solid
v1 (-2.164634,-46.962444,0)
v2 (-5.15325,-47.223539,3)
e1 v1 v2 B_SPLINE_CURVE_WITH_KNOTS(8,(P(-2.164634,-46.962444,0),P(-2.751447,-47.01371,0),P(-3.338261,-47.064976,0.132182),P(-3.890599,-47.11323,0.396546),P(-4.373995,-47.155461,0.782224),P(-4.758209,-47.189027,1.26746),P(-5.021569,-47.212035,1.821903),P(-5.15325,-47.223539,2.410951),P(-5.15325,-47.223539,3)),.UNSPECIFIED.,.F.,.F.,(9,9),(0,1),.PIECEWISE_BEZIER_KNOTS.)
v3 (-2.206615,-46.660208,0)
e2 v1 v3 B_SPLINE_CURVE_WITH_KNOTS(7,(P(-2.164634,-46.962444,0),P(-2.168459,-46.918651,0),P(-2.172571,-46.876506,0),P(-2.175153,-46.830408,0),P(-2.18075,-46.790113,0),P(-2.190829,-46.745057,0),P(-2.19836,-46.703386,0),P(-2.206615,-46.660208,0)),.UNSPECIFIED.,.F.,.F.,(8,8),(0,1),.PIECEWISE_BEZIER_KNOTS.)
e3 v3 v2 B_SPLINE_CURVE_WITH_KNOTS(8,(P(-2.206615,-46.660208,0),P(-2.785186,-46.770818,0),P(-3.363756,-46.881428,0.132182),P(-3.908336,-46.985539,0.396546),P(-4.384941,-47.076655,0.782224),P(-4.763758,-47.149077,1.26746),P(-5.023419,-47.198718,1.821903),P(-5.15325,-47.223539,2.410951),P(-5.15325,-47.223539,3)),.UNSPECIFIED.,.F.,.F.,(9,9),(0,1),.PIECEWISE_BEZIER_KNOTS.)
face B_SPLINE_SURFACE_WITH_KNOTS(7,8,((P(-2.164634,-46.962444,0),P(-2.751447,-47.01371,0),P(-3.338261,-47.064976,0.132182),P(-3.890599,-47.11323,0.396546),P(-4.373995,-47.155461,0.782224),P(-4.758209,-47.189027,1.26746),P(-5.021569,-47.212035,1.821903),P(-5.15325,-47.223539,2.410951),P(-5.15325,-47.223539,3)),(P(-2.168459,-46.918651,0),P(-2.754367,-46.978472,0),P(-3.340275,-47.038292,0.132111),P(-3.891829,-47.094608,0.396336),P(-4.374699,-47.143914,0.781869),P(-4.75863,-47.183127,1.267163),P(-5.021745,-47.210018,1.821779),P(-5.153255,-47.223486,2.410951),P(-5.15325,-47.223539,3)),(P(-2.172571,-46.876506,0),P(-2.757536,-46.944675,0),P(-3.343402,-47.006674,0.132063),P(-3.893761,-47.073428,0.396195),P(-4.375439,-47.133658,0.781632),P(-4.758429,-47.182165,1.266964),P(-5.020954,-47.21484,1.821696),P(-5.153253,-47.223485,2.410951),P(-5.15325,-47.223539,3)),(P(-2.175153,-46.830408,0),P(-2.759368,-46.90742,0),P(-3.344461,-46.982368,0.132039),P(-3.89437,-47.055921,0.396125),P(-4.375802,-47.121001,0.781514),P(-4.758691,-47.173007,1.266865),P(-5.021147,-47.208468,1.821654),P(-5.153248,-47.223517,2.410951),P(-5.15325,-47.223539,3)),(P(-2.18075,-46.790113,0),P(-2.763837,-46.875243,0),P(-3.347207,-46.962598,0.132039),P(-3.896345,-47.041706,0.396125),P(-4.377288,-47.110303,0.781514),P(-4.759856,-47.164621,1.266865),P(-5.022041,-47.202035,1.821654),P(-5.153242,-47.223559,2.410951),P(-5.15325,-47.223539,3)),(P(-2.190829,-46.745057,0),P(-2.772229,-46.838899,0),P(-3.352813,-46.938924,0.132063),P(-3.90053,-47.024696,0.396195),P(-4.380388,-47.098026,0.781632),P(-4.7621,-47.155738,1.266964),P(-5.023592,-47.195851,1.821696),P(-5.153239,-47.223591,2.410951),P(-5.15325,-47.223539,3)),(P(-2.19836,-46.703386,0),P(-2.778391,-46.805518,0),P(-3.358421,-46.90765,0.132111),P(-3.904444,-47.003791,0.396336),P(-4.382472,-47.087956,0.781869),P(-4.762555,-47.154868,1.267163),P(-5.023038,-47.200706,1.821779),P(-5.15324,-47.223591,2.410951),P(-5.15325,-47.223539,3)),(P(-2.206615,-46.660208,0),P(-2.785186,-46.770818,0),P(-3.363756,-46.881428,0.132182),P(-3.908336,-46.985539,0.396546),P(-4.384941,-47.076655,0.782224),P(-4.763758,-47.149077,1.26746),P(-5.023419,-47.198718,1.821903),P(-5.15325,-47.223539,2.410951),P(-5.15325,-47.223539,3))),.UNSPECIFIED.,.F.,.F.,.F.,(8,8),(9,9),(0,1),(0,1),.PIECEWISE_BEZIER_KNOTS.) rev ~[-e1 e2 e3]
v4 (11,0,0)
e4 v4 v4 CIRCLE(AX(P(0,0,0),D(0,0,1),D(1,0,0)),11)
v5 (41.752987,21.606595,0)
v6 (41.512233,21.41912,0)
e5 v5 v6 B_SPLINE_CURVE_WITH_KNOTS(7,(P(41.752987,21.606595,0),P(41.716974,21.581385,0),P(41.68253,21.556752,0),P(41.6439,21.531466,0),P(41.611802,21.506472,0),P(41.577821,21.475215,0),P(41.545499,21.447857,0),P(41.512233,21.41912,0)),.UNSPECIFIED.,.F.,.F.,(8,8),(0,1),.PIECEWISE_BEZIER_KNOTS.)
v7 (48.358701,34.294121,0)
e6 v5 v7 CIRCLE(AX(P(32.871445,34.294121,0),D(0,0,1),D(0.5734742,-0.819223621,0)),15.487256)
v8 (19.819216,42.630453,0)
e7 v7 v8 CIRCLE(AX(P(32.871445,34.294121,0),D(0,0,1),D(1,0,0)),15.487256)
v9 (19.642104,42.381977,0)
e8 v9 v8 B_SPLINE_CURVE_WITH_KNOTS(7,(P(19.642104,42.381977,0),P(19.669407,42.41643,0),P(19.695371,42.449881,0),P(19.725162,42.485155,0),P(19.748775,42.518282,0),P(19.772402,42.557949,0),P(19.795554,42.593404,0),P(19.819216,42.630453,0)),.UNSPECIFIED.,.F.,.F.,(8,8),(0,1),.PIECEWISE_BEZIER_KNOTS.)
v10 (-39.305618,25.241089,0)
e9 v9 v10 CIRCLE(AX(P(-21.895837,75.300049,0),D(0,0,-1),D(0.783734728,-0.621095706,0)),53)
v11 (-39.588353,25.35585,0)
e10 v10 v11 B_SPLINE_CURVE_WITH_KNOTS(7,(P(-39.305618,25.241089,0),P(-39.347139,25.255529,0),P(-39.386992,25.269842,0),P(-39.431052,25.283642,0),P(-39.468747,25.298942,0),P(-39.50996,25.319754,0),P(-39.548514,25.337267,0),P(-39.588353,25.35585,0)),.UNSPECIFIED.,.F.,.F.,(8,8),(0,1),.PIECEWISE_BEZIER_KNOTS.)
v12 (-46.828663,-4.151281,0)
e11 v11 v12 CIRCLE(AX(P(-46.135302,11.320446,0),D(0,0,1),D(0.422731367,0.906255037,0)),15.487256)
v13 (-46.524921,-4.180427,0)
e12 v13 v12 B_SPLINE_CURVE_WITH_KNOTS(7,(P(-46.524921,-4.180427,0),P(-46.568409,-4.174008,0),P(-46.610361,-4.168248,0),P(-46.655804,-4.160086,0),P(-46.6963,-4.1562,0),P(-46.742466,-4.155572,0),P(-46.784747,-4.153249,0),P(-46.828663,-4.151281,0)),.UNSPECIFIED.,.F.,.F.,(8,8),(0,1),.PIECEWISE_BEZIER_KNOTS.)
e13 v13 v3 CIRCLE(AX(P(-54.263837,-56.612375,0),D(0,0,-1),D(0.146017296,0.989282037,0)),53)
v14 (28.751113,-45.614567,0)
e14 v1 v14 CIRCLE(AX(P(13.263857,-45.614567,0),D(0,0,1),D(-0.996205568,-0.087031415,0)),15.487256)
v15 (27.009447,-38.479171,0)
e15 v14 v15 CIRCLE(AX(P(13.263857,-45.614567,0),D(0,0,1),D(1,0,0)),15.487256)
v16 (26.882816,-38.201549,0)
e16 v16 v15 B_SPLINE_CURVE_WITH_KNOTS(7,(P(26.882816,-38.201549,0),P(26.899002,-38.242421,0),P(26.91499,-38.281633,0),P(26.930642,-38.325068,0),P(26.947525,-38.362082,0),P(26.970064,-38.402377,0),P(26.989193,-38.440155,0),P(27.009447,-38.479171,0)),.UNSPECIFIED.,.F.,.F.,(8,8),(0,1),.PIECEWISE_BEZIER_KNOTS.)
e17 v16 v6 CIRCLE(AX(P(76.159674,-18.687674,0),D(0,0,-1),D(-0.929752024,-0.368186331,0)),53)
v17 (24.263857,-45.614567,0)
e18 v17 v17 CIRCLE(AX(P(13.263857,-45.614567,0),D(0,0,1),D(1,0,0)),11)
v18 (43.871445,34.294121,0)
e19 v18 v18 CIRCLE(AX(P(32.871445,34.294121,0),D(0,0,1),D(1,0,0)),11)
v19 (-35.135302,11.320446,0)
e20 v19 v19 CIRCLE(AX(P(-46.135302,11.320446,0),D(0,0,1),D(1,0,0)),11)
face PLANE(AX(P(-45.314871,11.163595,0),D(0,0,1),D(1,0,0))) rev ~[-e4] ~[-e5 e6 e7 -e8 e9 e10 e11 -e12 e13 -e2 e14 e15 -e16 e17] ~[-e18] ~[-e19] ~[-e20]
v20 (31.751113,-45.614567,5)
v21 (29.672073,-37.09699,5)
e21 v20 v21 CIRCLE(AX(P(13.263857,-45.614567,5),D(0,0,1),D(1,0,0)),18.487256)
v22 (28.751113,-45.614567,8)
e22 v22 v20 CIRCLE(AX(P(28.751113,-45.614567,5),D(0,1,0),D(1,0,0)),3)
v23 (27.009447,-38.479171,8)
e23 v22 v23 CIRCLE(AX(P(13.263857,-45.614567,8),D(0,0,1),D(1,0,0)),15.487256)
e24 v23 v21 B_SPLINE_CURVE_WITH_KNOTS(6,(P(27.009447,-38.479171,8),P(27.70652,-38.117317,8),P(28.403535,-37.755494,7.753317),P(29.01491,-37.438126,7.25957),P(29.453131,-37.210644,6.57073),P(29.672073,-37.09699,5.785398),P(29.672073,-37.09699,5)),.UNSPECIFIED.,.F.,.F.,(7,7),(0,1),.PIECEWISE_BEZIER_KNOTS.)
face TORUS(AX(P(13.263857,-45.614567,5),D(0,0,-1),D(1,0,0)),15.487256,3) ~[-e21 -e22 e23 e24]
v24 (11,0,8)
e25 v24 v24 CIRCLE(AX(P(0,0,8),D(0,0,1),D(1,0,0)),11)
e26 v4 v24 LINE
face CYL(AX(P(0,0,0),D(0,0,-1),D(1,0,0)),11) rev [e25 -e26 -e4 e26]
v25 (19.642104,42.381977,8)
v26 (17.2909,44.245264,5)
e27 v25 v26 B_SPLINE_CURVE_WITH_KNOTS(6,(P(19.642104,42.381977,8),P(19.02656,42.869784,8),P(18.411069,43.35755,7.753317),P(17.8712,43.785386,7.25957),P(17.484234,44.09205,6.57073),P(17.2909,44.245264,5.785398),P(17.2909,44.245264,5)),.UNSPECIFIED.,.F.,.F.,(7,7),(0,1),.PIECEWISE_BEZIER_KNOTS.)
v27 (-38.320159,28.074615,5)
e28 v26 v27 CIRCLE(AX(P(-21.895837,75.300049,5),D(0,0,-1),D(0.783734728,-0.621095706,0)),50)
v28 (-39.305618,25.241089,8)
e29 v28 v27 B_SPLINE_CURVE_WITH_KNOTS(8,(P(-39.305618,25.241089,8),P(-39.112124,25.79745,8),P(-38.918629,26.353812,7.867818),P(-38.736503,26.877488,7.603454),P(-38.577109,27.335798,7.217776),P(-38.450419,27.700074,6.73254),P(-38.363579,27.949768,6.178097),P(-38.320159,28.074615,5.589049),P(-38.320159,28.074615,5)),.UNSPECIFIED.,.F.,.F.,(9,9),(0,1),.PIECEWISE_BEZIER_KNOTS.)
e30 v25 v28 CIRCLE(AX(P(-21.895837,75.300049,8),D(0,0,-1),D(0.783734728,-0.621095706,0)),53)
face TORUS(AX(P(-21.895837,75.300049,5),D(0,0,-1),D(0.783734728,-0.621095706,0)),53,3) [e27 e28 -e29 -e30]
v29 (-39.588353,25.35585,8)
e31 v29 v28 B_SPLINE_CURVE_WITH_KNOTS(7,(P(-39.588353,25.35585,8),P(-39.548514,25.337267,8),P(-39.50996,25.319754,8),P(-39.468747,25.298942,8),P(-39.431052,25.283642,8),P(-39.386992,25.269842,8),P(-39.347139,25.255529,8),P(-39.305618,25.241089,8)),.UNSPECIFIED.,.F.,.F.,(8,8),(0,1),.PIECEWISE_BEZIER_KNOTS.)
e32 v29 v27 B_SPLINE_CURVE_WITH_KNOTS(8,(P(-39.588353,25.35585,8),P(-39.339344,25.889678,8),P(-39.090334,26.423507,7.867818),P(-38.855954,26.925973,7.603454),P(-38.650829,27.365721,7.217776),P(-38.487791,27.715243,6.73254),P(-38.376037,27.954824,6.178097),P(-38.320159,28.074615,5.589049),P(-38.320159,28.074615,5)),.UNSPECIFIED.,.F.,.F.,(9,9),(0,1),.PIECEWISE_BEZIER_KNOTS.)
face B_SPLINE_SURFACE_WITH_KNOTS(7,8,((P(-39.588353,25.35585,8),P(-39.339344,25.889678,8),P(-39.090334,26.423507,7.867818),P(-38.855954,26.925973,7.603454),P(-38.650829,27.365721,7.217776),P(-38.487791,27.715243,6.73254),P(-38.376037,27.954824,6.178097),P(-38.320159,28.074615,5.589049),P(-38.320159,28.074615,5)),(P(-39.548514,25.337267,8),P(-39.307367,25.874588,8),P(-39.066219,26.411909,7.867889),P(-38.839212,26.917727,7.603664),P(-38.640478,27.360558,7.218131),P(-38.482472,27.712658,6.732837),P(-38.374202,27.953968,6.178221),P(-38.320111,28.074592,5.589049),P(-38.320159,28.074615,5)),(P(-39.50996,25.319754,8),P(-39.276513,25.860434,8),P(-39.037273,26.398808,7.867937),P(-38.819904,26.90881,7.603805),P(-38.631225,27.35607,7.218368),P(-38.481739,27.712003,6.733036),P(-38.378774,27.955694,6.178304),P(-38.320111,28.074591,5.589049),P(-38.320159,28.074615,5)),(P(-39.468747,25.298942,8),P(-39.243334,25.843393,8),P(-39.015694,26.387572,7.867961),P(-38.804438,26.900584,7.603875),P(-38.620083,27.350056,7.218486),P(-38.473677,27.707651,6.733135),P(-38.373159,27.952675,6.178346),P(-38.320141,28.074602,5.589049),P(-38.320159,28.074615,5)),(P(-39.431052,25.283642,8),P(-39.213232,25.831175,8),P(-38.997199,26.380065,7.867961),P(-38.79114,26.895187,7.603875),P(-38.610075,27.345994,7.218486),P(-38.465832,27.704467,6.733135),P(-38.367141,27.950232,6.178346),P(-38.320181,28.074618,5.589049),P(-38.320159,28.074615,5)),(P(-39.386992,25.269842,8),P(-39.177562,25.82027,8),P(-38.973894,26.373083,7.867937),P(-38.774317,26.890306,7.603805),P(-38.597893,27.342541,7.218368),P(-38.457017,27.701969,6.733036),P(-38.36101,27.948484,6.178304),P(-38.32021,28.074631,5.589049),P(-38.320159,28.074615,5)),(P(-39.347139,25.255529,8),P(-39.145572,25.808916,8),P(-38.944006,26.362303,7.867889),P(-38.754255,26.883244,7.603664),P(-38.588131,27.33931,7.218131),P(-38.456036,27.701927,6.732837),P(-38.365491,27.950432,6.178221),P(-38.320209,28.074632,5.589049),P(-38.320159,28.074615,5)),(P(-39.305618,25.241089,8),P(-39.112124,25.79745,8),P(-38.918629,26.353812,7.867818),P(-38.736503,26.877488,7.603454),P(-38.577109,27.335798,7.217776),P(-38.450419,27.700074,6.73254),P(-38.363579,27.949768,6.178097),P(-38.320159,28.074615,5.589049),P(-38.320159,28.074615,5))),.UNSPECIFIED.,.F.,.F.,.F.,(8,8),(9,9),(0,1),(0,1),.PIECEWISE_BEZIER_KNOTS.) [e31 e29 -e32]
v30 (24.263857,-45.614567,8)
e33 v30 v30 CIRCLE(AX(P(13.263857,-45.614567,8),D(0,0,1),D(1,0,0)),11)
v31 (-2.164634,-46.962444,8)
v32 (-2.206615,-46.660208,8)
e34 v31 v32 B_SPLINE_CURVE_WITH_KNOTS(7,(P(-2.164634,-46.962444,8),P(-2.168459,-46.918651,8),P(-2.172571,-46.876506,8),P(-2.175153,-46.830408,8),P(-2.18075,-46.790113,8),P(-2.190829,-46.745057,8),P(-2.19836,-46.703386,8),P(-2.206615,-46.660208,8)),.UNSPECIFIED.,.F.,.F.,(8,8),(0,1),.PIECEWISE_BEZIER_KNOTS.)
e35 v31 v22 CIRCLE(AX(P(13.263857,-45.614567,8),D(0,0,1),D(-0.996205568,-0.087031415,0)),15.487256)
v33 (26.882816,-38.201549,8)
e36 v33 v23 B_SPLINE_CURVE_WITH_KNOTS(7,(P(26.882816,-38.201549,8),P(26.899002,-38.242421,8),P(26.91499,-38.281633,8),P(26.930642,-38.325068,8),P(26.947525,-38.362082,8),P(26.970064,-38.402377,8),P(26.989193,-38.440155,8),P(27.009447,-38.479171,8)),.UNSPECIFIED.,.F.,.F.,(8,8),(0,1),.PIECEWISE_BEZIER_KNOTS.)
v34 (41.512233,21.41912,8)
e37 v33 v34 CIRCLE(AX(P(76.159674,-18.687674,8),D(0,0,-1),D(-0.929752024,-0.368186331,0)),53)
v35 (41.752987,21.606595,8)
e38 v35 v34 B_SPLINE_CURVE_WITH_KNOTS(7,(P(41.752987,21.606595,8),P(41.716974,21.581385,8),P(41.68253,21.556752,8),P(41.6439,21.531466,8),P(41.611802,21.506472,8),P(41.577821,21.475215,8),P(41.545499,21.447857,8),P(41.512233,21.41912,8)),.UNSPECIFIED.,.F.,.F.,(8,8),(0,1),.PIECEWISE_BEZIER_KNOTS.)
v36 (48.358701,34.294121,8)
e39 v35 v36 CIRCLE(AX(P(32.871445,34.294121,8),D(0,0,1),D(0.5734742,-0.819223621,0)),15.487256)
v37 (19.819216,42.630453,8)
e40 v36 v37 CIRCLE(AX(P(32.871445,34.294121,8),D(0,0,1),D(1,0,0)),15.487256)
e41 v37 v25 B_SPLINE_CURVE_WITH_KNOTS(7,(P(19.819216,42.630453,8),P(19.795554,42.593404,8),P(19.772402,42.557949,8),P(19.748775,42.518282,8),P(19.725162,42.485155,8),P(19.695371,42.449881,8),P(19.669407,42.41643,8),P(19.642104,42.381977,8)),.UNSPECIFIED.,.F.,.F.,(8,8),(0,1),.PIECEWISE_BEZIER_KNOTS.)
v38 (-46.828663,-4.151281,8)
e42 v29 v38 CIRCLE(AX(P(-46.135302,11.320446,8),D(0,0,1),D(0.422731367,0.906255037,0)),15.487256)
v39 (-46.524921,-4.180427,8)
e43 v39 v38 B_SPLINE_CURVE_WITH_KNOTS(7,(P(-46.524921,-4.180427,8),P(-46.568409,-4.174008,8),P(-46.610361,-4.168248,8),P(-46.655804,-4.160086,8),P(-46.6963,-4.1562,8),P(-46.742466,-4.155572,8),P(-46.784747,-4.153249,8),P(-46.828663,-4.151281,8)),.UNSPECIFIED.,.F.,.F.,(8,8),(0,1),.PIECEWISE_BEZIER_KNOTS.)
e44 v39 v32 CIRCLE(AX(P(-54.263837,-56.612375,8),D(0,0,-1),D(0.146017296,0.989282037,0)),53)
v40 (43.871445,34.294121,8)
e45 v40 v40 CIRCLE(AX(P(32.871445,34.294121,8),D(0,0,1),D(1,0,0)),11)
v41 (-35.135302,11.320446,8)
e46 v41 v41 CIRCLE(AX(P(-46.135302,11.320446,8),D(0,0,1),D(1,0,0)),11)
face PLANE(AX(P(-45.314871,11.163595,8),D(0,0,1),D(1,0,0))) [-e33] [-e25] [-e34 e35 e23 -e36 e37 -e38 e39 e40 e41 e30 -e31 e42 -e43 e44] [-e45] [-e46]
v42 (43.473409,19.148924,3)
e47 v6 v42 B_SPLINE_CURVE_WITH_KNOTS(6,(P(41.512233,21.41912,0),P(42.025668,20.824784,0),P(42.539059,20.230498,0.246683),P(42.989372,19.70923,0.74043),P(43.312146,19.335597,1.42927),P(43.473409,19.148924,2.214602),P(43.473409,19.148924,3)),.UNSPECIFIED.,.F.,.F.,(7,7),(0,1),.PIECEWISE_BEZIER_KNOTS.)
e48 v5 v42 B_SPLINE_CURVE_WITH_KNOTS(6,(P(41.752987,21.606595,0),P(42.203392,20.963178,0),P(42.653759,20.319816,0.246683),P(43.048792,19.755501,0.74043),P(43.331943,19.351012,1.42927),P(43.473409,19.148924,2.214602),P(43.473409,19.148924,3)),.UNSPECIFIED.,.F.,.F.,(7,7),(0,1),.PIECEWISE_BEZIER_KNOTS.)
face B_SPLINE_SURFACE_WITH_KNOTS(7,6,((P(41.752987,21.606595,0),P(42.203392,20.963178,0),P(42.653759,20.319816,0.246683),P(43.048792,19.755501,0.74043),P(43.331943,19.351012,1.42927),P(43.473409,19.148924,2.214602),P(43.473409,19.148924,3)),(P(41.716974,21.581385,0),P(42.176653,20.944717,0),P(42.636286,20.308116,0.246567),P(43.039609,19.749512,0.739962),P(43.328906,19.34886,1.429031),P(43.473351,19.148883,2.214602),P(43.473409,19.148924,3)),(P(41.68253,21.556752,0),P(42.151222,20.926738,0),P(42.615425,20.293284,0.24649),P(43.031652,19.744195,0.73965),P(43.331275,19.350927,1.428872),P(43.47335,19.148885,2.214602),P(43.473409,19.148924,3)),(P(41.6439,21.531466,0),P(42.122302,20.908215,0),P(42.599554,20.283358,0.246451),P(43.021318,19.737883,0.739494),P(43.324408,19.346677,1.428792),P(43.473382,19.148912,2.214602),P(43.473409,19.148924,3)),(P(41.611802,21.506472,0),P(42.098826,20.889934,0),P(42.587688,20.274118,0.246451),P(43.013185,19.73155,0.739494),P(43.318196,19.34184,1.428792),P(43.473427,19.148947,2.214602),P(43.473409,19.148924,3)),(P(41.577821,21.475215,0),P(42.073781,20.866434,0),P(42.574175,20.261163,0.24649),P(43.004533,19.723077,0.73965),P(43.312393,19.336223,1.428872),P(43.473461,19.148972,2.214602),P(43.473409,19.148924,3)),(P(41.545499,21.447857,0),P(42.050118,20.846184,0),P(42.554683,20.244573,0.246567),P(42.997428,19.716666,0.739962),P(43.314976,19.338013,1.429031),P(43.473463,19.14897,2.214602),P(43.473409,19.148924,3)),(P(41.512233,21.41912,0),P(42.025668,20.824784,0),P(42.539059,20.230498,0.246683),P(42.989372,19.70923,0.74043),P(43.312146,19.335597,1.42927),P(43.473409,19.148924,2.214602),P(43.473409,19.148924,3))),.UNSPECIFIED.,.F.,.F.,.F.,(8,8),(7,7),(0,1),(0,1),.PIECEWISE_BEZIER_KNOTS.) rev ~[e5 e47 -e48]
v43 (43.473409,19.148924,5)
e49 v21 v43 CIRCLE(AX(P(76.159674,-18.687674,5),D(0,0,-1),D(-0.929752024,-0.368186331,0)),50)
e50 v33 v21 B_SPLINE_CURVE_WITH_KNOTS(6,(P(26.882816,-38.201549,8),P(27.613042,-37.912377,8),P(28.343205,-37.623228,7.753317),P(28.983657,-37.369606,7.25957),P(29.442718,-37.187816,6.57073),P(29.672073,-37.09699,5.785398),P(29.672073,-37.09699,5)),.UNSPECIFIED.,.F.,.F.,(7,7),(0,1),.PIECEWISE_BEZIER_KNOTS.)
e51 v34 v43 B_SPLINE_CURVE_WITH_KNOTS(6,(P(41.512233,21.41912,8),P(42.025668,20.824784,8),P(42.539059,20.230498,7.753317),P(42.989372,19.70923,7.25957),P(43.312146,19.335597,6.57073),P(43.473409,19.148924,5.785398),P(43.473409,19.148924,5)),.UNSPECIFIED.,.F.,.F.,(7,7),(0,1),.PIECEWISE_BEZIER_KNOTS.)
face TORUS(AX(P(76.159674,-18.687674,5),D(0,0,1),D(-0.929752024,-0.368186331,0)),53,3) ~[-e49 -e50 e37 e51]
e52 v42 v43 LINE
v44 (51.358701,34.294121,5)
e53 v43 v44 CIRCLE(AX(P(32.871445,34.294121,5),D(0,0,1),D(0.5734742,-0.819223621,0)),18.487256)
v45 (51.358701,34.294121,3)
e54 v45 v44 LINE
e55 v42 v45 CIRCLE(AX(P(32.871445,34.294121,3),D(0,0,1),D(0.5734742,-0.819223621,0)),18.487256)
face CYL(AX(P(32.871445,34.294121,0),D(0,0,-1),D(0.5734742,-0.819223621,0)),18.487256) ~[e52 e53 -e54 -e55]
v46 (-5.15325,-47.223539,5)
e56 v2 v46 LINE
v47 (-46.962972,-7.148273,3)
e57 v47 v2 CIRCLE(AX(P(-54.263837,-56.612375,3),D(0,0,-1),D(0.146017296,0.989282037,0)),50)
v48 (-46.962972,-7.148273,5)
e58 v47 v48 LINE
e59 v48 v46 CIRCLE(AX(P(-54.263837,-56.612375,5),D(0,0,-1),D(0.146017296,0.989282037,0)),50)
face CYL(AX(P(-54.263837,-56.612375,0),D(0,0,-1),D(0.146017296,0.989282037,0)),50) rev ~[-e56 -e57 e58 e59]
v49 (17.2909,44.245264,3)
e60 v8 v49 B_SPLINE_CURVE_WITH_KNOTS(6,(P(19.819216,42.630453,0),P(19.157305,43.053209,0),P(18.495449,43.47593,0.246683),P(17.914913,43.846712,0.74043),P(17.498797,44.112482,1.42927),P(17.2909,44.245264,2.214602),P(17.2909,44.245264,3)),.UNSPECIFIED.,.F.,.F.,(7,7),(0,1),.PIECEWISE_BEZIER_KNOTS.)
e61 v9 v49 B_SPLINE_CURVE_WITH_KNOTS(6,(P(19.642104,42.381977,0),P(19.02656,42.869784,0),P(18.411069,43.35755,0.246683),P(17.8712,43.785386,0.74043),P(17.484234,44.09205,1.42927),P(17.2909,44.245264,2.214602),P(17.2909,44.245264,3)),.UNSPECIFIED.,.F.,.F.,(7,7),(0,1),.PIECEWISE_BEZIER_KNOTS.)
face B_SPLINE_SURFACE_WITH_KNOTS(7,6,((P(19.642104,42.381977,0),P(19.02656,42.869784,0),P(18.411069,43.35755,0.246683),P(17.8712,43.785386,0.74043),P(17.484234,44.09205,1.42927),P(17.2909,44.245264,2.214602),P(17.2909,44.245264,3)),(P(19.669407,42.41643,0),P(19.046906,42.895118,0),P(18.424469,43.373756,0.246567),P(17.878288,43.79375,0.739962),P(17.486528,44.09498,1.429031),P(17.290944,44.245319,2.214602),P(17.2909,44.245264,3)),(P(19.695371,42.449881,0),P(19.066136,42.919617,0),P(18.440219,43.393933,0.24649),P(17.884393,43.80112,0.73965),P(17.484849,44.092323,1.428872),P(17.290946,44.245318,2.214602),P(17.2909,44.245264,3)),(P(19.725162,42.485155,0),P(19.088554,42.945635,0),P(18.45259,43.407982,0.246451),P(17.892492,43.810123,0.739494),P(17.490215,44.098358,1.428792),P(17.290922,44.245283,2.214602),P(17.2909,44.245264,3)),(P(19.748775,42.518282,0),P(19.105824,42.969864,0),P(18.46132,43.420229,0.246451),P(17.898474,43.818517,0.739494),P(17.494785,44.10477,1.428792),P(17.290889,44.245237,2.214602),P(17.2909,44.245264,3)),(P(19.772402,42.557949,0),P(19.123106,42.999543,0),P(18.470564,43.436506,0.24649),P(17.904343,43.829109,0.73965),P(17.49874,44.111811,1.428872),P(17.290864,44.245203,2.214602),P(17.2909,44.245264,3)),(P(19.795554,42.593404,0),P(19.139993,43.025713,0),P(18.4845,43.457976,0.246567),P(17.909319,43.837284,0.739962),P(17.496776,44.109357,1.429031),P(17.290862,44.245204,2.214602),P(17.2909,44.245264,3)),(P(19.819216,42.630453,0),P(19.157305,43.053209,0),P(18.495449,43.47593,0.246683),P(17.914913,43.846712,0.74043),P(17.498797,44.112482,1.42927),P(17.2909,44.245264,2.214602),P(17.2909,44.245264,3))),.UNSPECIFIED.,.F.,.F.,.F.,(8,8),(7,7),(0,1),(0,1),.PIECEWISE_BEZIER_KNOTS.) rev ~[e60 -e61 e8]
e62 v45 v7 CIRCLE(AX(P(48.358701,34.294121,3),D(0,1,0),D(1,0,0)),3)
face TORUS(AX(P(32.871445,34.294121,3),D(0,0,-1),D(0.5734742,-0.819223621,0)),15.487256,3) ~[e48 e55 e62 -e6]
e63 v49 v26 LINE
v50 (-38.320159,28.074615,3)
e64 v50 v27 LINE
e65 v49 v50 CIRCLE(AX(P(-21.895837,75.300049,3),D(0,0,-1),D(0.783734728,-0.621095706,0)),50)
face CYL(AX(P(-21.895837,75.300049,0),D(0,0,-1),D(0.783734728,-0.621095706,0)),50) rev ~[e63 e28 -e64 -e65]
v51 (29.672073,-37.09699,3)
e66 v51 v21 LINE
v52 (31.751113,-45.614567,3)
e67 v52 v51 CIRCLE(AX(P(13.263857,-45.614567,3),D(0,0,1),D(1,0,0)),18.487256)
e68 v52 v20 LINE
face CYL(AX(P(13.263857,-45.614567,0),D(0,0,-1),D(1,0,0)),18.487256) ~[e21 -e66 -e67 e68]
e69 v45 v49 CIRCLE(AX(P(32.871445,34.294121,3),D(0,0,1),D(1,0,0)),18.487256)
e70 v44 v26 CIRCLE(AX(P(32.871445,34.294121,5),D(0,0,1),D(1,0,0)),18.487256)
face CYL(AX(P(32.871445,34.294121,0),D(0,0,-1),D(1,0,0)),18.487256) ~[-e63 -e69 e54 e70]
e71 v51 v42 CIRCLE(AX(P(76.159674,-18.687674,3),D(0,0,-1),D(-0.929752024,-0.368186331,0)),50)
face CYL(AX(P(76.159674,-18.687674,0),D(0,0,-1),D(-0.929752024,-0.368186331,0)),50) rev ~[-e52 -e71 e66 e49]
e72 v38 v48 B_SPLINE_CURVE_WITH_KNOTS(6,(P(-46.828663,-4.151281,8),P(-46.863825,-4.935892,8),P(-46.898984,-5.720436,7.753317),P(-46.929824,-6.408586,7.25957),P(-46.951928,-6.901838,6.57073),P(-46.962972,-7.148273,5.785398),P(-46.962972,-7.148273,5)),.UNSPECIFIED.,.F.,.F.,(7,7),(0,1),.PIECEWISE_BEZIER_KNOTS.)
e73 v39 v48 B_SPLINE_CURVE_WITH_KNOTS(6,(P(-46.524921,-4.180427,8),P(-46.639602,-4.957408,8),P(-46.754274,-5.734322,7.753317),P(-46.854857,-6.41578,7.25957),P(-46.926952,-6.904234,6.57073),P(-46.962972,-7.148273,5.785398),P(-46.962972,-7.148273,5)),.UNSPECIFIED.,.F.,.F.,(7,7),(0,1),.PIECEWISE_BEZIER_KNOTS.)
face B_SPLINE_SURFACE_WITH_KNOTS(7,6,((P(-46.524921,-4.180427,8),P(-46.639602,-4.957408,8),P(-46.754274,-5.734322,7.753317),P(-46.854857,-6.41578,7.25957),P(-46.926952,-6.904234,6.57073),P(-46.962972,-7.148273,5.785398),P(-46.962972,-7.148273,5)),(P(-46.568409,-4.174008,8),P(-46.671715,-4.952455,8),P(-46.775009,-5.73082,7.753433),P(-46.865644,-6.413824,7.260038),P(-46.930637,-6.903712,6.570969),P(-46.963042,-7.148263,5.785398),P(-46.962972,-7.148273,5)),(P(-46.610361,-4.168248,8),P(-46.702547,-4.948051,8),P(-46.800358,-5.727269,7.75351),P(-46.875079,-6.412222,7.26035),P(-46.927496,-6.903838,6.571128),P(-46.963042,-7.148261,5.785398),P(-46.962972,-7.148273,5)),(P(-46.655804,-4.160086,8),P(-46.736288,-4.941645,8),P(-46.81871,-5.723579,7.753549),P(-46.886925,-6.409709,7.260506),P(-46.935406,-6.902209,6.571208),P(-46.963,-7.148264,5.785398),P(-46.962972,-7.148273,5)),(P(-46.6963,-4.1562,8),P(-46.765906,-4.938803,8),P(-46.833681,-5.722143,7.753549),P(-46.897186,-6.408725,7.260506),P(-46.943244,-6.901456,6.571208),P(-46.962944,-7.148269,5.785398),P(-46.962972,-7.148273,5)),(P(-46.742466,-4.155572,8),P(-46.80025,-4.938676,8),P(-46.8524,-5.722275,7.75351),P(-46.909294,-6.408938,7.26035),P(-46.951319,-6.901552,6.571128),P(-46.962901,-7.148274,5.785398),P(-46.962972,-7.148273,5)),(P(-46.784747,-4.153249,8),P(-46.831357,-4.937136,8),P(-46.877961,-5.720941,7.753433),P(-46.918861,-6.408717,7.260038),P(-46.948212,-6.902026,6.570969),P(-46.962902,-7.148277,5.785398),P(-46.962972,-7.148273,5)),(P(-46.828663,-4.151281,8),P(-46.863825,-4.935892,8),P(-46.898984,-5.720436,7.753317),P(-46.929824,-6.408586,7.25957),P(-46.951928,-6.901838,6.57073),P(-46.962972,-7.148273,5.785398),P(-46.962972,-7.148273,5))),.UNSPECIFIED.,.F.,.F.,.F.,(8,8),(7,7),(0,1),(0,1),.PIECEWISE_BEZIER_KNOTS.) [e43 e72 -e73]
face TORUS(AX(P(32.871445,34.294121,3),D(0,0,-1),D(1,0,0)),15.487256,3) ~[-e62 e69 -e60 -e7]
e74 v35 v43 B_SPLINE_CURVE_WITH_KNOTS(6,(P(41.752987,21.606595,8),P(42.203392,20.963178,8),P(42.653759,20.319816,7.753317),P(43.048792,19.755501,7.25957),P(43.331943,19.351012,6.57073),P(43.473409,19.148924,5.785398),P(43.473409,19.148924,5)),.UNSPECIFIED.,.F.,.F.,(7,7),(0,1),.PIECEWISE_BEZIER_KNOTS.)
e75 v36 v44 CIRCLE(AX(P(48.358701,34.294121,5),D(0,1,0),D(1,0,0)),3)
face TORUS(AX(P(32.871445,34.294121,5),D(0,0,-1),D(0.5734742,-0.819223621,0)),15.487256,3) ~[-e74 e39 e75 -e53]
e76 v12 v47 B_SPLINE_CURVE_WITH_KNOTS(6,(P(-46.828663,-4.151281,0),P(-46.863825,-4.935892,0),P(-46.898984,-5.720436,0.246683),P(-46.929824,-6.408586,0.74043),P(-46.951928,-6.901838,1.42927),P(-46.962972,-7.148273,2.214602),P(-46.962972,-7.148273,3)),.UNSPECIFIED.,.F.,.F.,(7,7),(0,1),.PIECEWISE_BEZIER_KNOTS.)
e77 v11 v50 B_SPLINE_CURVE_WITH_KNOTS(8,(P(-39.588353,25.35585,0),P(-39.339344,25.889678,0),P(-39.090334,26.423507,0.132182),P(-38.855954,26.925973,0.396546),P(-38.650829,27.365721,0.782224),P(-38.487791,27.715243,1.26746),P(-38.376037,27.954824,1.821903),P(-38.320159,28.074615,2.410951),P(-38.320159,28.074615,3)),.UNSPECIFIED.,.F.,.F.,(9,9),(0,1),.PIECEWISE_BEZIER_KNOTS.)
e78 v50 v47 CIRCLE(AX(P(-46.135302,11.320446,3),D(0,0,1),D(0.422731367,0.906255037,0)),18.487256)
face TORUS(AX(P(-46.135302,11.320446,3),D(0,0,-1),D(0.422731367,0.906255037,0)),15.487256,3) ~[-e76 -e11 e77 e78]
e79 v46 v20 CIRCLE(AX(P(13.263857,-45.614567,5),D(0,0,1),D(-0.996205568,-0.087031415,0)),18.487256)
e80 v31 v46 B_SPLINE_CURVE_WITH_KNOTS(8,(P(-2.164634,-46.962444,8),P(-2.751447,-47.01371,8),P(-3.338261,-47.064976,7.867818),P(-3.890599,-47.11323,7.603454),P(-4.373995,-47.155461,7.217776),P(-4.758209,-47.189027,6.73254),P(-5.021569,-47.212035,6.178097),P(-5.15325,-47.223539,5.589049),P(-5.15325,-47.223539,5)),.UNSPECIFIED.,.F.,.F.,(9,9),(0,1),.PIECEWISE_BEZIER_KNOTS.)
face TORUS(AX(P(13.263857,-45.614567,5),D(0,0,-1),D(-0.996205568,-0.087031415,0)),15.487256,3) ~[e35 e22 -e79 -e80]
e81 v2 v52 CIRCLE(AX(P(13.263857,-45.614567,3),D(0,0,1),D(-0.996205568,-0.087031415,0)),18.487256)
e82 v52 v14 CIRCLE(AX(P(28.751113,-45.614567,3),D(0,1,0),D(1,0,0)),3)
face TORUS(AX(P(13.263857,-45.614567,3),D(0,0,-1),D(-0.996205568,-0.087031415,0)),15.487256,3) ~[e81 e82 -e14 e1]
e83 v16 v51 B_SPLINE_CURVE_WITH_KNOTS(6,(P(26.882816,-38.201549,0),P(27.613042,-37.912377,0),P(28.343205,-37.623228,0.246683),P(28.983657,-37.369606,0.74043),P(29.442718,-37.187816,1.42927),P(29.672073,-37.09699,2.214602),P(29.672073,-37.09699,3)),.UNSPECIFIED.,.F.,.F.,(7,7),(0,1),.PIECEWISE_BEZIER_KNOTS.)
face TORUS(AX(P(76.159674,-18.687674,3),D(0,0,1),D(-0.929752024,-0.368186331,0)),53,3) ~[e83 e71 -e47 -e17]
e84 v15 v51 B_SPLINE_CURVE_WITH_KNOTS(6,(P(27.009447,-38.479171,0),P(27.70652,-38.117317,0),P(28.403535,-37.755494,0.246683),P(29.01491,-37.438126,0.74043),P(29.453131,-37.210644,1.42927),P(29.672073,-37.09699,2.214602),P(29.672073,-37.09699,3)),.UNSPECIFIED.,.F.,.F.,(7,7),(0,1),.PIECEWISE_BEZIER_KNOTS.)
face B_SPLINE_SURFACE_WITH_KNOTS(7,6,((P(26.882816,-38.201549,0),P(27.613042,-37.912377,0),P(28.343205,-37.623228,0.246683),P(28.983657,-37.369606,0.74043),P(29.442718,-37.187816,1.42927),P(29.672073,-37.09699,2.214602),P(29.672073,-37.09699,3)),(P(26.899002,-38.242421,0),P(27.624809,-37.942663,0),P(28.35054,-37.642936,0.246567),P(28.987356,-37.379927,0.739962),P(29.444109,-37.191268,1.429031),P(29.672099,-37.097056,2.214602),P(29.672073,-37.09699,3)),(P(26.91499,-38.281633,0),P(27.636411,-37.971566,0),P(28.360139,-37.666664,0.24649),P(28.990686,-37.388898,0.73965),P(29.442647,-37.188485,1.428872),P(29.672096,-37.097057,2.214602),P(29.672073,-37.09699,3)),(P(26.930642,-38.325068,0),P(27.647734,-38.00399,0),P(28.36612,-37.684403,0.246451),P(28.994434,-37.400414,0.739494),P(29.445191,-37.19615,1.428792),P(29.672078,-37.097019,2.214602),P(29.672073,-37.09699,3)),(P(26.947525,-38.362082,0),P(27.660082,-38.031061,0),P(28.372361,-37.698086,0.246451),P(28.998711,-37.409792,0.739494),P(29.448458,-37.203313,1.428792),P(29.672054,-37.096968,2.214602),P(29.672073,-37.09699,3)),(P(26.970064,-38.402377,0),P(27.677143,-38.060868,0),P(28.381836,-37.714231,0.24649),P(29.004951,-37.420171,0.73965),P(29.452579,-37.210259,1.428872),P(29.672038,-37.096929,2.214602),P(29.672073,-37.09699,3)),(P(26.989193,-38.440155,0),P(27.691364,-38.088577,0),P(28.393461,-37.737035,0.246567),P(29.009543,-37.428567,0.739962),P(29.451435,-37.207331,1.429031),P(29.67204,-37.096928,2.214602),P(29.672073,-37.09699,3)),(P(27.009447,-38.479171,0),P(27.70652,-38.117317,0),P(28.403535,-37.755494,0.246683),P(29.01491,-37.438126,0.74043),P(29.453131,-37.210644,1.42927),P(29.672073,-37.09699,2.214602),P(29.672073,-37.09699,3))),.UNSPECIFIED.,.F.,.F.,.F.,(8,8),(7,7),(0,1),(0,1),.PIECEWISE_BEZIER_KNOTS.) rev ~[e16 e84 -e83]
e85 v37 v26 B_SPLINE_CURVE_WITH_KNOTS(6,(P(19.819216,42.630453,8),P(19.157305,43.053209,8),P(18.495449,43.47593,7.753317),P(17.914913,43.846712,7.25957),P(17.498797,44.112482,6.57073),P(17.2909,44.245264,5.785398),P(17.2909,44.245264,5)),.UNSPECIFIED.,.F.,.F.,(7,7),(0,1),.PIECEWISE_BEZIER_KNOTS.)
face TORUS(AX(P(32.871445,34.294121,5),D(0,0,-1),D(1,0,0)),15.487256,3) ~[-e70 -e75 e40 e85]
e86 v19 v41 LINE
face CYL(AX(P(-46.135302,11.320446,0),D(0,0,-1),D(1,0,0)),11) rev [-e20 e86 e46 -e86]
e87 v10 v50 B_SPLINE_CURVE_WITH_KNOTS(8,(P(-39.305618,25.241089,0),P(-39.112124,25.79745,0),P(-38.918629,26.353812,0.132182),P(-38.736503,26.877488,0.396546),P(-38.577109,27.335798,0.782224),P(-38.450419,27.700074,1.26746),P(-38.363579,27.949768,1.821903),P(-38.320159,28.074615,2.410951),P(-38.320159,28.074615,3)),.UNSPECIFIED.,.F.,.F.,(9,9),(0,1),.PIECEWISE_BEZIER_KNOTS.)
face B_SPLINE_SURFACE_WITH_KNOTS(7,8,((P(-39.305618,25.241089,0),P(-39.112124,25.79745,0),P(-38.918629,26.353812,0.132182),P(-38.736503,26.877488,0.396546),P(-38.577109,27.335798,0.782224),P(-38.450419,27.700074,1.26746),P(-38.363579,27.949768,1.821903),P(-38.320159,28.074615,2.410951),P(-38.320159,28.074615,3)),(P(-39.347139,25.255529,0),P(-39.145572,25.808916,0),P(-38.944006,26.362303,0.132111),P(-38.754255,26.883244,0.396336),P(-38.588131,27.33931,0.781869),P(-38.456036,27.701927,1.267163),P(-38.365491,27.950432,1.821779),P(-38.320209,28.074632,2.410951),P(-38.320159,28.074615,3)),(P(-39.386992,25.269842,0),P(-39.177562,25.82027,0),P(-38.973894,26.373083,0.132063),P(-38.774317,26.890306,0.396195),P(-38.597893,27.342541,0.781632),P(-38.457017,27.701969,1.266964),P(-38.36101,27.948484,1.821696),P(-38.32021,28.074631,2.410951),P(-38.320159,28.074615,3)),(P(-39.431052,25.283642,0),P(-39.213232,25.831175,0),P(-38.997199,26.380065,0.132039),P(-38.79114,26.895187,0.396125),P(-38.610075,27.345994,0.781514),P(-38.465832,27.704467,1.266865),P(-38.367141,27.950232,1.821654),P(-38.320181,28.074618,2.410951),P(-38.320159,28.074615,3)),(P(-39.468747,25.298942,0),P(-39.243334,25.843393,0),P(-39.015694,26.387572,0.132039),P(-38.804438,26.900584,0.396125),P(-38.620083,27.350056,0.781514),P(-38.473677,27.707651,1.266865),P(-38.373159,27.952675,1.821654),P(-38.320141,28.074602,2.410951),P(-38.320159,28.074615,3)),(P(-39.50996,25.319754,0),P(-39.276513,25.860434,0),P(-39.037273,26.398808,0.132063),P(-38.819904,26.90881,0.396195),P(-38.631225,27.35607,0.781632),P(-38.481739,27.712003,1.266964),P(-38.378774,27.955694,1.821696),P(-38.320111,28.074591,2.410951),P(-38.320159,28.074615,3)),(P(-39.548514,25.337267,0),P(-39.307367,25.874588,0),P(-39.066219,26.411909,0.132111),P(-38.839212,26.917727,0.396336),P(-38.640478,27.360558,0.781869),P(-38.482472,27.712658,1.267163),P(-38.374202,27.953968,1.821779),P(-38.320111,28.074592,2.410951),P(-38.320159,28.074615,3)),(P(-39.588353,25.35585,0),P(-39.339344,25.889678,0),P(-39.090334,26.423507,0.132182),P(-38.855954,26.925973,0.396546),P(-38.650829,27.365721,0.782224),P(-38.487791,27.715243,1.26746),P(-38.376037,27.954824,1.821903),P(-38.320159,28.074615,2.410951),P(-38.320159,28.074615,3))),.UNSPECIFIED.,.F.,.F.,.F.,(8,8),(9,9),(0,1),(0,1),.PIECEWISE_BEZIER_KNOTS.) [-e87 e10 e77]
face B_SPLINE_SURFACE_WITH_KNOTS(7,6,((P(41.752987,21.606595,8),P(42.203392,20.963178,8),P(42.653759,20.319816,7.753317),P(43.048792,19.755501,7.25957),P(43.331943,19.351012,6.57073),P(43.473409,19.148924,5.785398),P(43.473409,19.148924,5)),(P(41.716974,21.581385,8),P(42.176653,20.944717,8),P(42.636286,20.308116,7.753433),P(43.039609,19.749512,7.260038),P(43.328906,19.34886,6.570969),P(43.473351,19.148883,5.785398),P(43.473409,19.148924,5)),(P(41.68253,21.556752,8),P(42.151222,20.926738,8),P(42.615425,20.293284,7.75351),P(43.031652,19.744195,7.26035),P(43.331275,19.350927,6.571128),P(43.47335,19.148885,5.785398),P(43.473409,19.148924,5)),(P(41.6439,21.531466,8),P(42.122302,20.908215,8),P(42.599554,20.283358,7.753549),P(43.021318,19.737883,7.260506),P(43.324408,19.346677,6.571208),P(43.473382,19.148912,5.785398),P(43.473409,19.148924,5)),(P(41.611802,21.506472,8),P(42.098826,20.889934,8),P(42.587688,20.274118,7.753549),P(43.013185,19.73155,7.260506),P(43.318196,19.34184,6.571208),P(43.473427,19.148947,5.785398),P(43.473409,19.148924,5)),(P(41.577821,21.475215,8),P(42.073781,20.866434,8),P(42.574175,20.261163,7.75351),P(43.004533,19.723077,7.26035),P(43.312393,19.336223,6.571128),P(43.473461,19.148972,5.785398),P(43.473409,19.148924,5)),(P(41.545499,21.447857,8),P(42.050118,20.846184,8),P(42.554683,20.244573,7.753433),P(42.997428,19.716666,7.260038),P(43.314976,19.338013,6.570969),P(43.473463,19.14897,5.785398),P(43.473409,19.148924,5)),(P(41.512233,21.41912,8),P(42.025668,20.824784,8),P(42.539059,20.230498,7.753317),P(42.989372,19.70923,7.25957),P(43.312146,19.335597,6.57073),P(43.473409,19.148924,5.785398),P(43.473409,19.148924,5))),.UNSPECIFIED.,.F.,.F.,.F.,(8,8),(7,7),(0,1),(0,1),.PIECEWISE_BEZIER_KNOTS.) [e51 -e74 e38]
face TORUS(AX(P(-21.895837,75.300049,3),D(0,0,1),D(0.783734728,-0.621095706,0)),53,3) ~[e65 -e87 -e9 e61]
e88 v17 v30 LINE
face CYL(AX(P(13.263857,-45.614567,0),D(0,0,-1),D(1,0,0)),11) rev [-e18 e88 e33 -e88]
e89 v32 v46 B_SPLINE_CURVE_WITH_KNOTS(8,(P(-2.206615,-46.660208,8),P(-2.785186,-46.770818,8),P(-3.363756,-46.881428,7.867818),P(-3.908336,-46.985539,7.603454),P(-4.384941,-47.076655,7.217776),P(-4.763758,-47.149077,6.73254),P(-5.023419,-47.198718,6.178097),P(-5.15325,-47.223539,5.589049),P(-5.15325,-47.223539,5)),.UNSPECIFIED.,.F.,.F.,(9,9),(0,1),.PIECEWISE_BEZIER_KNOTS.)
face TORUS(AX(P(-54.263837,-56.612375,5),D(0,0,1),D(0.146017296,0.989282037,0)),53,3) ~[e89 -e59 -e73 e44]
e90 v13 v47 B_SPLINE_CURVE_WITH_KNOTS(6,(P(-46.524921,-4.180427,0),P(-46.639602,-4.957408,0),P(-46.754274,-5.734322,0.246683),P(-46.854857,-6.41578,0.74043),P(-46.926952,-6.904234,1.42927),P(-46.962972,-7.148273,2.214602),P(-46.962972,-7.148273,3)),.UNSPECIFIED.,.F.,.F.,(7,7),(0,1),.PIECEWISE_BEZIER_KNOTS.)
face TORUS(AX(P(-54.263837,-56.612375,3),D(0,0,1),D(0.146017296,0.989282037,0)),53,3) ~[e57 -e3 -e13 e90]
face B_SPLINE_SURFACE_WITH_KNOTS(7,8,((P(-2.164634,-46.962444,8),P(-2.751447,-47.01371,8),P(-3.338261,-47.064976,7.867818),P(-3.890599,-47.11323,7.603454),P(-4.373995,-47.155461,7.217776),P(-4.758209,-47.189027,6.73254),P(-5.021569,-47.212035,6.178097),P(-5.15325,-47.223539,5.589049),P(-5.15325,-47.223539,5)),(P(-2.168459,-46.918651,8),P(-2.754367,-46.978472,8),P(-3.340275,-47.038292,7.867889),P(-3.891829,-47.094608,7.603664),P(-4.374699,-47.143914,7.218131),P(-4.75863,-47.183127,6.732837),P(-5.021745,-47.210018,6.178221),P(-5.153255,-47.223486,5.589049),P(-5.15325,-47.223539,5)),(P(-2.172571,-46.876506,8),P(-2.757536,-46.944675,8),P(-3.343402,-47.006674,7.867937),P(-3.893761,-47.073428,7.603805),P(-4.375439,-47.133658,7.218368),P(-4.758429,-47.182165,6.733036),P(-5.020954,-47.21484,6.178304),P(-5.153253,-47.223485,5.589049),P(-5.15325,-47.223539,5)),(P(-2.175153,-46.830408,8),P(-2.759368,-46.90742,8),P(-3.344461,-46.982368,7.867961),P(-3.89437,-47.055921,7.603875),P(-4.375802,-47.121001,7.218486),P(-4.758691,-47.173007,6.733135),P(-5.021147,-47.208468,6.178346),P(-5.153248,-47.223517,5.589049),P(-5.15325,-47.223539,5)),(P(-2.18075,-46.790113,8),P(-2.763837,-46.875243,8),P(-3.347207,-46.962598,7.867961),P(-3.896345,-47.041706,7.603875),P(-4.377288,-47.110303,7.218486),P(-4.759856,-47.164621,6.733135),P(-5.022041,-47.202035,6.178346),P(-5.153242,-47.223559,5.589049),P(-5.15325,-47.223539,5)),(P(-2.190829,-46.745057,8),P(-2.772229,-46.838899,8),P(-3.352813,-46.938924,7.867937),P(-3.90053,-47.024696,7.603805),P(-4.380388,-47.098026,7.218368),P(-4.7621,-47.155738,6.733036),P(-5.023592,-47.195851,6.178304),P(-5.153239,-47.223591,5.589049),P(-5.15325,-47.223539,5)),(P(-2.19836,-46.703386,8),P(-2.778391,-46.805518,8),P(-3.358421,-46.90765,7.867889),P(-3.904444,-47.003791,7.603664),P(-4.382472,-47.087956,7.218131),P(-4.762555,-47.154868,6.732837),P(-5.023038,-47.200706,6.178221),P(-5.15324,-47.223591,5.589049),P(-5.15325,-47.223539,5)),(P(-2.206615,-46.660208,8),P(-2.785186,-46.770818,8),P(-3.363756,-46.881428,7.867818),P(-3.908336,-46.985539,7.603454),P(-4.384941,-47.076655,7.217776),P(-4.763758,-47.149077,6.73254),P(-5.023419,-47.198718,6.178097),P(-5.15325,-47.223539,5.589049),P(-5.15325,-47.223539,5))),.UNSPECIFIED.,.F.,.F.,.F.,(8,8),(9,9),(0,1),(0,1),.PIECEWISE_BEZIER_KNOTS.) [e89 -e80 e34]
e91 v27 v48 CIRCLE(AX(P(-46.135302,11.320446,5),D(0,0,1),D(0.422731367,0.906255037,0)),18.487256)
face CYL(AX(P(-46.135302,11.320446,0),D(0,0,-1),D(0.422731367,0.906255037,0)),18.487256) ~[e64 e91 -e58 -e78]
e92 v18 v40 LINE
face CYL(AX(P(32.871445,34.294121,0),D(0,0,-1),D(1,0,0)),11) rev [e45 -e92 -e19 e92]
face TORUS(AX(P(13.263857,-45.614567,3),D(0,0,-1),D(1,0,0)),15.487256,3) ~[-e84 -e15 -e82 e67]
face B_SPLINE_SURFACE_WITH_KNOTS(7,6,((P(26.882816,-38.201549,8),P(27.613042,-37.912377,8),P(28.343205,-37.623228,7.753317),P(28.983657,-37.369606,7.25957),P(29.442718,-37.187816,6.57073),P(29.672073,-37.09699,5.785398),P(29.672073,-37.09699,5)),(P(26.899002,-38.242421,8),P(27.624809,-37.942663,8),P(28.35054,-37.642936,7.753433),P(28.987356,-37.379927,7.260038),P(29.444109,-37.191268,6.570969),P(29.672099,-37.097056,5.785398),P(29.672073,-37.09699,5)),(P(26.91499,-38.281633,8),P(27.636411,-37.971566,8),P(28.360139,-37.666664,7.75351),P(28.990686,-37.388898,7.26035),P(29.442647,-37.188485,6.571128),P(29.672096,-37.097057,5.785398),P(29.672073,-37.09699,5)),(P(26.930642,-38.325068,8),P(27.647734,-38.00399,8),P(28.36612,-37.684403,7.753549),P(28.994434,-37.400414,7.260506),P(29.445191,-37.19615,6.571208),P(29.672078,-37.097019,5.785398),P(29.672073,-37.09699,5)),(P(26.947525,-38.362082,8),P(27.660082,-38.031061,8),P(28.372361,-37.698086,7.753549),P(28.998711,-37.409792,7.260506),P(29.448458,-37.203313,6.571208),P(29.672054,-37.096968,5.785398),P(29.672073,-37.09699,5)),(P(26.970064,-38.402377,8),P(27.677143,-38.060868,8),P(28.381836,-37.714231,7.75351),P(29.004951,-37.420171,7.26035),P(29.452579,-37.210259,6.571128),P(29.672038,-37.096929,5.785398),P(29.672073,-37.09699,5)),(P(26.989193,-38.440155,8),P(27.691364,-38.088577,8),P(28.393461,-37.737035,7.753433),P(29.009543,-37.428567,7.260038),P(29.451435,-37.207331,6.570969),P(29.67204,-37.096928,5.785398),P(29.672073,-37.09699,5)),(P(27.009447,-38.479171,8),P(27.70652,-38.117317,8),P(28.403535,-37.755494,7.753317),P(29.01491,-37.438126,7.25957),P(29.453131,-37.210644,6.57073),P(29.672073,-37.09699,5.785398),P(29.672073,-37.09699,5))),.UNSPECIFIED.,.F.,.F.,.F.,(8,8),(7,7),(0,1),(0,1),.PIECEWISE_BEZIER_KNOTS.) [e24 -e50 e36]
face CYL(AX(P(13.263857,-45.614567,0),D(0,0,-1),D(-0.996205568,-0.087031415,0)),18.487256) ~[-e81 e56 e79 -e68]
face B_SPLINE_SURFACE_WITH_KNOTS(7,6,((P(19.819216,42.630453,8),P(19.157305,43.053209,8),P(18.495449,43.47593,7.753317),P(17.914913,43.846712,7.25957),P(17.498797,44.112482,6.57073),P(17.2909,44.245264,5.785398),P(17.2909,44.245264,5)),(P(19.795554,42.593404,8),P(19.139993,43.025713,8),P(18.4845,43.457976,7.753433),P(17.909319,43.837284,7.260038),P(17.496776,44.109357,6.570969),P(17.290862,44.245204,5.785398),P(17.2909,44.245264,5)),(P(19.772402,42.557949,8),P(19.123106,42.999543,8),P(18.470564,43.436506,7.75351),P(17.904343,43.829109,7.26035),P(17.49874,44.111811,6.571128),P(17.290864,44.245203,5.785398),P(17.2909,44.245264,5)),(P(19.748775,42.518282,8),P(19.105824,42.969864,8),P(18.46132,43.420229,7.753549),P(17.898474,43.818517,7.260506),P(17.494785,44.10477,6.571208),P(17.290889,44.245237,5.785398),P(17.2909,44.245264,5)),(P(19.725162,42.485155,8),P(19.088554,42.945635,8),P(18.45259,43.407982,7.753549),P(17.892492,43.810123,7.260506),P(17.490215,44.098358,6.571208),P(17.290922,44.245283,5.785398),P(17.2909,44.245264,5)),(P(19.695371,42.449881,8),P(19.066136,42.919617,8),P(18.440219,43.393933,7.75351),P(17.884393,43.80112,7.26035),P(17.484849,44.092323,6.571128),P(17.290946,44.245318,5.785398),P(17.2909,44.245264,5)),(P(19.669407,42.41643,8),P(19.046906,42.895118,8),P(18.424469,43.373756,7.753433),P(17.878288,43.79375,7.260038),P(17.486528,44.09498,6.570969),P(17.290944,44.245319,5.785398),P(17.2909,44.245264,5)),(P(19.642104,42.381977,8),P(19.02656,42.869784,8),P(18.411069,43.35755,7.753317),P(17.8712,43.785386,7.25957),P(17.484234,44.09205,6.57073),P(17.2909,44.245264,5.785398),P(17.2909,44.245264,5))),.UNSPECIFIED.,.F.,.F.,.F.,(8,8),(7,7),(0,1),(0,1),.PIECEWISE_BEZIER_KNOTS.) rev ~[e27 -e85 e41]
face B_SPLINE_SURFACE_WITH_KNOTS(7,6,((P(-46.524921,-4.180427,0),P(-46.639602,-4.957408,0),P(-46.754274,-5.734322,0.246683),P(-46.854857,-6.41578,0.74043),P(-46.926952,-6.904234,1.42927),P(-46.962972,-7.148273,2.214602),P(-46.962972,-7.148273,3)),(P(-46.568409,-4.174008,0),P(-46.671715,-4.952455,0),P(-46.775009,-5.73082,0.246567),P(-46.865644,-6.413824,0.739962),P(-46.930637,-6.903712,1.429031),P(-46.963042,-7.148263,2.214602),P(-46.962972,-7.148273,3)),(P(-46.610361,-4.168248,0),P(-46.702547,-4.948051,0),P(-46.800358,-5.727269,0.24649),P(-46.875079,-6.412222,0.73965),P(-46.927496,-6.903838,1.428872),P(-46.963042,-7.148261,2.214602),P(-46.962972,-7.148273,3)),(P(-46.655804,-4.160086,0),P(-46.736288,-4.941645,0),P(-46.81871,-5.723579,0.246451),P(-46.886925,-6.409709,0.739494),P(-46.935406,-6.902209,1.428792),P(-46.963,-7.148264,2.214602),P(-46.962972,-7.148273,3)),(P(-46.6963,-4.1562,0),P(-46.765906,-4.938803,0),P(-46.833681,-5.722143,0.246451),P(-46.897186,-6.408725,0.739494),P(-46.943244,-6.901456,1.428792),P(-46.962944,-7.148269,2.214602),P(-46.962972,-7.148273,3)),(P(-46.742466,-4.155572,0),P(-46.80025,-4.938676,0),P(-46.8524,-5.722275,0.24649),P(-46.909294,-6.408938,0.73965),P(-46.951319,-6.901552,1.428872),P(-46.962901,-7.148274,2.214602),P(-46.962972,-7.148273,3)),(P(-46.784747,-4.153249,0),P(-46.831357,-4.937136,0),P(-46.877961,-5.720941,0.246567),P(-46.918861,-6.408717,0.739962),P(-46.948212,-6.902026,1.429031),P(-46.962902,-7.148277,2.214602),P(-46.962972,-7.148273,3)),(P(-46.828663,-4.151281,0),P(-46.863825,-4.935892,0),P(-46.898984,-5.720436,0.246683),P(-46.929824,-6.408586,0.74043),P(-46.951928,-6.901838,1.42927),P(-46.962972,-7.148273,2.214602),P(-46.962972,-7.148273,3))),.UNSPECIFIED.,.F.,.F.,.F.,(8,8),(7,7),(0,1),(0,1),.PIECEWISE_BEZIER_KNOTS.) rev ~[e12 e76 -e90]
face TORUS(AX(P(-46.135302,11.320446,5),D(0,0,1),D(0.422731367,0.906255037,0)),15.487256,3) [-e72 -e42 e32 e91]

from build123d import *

# Parameters (mm, degrees)
F0_R     = 11
F1_DEPTH = 8
F2_R     = 3


with BuildPart() as f1:
    # F0 (on Top) → F1 (new body)
    with BuildSketch(Plane.XY):
        with BuildLine():
            ThreePointArc((-46.9629723988, -7.1482733789), (-33.3588141853, -2.0414398613), (-27.6480459467, 11.3204460609))
            ThreePointArc((-27.6480459467, 11.3204460609), (-30.5426885779, 21.2526685211), (-38.32015897, 28.0746149634))
            ThreePointArc((-38.32015897, 28.0746149634), (-64.0899437078, 15.7260648458), (-46.9629723988, -7.1482733789))
        make_face()
        with Locations((-46.1353019911, 11.3204460609)):
            Circle(F0_R, mode=Mode.SUBTRACT)
        with BuildLine():
            ThreePointArc((-38.32015897, 28.0746149634), (-30.5426885779, 21.2526685211), (-27.6480459467, 11.3204460609))
            ThreePointArc((-27.6480459467, 11.3204460609), (-33.3588141853, -2.0414398613), (-46.9629723988, -7.1482733789))
            ThreePointArc((-46.9629723988, -7.1482733789), (-19.665142242, -20.516249302), (-5.1532502747, -47.2235386268))
            ThreePointArc((-5.1532502747, -47.2235386268), (8.1019140534, -27.8625813311), (29.6720725387, -37.0969904451))
            ThreePointArc((29.6720725387, -37.0969904451), (27.6001642069, -6.7723880996), (43.4734092447, 19.1489236634))
            ThreePointArc((43.4734092447, 19.1489236634), (20.0787462211, 20.947754055), (17.29089986, 44.245263824))
            ThreePointArc((17.29089986, 44.245263824), (-7.9350219649, 27.2886374016), (-38.32015897, 28.0746149634))
        make_face()
        Circle(F0_R, mode=Mode.SUBTRACT)
        with BuildLine():
            ThreePointArc((51.3587009109, 34.2941205051), (38.0549336147, 52.0398264772), (17.29089986, 44.245263824))
            ThreePointArc((17.29089986, 44.245263824), (20.0787462211, 20.947754055), (43.4734092447, 19.1489236634))
            ThreePointArc((43.4734092447, 19.1489236634), (49.2693085396, 25.756632408), (51.3587009109, 34.2941205051))
        make_face()
        with Locations((32.8714448665, 34.2941205051)):
            Circle(F0_R, mode=Mode.SUBTRACT)
        with BuildLine():
            ThreePointArc((29.6720725387, -37.0969904451), (8.1019140534, -27.8625813311), (-5.1532502747, -47.2235386268))
            ThreePointArc((-5.1532502747, -47.2235386268), (14.0691073846, -64.0842771233), (31.751113169, -45.614566566))
            ThreePointArc((31.751113169, -45.614566566), (31.2238336787, -41.2307465162), (29.6720725387, -37.0969904451))
        make_face()
        with Locations((13.2638571246, -45.614566566)):
            Circle(F0_R, mode=Mode.SUBTRACT)
    extrude(amount=F1_DEPTH)

    # F2 (call 1 of 2: OpenCascade refuses the feature's edges together)
    f2_edges = [f1.edges().sort_by_distance(p)[0] for p in [
        (-7.935022, 27.288637, 0),
        (45.664144, 47.640487, 0),
        (27.600164, -6.772388, 0),
        (18.4258, -63.366552, 0),
        (-19.665142, -20.516249, 0),
        (-64.089944, 15.726065, 0),
    ]]
    fillet(f2_edges, radius=F2_R)

    # F2#2 (call 2 of 2)
    f2_2_edges = [f1.edges().sort_by_distance(p)[0] for p in [
        (45.664144, 47.640487, 8),
        (27.600164, -6.772388, 8),
        (18.4258, -63.366552, 8),
        (-19.665142, -20.516249, 8),
        (-64.089944, 15.726065, 8),
        (-7.935022, 27.288637, 8),
    ]]
    fillet(f2_2_edges, radius=F2_R)


solid = f1.part
